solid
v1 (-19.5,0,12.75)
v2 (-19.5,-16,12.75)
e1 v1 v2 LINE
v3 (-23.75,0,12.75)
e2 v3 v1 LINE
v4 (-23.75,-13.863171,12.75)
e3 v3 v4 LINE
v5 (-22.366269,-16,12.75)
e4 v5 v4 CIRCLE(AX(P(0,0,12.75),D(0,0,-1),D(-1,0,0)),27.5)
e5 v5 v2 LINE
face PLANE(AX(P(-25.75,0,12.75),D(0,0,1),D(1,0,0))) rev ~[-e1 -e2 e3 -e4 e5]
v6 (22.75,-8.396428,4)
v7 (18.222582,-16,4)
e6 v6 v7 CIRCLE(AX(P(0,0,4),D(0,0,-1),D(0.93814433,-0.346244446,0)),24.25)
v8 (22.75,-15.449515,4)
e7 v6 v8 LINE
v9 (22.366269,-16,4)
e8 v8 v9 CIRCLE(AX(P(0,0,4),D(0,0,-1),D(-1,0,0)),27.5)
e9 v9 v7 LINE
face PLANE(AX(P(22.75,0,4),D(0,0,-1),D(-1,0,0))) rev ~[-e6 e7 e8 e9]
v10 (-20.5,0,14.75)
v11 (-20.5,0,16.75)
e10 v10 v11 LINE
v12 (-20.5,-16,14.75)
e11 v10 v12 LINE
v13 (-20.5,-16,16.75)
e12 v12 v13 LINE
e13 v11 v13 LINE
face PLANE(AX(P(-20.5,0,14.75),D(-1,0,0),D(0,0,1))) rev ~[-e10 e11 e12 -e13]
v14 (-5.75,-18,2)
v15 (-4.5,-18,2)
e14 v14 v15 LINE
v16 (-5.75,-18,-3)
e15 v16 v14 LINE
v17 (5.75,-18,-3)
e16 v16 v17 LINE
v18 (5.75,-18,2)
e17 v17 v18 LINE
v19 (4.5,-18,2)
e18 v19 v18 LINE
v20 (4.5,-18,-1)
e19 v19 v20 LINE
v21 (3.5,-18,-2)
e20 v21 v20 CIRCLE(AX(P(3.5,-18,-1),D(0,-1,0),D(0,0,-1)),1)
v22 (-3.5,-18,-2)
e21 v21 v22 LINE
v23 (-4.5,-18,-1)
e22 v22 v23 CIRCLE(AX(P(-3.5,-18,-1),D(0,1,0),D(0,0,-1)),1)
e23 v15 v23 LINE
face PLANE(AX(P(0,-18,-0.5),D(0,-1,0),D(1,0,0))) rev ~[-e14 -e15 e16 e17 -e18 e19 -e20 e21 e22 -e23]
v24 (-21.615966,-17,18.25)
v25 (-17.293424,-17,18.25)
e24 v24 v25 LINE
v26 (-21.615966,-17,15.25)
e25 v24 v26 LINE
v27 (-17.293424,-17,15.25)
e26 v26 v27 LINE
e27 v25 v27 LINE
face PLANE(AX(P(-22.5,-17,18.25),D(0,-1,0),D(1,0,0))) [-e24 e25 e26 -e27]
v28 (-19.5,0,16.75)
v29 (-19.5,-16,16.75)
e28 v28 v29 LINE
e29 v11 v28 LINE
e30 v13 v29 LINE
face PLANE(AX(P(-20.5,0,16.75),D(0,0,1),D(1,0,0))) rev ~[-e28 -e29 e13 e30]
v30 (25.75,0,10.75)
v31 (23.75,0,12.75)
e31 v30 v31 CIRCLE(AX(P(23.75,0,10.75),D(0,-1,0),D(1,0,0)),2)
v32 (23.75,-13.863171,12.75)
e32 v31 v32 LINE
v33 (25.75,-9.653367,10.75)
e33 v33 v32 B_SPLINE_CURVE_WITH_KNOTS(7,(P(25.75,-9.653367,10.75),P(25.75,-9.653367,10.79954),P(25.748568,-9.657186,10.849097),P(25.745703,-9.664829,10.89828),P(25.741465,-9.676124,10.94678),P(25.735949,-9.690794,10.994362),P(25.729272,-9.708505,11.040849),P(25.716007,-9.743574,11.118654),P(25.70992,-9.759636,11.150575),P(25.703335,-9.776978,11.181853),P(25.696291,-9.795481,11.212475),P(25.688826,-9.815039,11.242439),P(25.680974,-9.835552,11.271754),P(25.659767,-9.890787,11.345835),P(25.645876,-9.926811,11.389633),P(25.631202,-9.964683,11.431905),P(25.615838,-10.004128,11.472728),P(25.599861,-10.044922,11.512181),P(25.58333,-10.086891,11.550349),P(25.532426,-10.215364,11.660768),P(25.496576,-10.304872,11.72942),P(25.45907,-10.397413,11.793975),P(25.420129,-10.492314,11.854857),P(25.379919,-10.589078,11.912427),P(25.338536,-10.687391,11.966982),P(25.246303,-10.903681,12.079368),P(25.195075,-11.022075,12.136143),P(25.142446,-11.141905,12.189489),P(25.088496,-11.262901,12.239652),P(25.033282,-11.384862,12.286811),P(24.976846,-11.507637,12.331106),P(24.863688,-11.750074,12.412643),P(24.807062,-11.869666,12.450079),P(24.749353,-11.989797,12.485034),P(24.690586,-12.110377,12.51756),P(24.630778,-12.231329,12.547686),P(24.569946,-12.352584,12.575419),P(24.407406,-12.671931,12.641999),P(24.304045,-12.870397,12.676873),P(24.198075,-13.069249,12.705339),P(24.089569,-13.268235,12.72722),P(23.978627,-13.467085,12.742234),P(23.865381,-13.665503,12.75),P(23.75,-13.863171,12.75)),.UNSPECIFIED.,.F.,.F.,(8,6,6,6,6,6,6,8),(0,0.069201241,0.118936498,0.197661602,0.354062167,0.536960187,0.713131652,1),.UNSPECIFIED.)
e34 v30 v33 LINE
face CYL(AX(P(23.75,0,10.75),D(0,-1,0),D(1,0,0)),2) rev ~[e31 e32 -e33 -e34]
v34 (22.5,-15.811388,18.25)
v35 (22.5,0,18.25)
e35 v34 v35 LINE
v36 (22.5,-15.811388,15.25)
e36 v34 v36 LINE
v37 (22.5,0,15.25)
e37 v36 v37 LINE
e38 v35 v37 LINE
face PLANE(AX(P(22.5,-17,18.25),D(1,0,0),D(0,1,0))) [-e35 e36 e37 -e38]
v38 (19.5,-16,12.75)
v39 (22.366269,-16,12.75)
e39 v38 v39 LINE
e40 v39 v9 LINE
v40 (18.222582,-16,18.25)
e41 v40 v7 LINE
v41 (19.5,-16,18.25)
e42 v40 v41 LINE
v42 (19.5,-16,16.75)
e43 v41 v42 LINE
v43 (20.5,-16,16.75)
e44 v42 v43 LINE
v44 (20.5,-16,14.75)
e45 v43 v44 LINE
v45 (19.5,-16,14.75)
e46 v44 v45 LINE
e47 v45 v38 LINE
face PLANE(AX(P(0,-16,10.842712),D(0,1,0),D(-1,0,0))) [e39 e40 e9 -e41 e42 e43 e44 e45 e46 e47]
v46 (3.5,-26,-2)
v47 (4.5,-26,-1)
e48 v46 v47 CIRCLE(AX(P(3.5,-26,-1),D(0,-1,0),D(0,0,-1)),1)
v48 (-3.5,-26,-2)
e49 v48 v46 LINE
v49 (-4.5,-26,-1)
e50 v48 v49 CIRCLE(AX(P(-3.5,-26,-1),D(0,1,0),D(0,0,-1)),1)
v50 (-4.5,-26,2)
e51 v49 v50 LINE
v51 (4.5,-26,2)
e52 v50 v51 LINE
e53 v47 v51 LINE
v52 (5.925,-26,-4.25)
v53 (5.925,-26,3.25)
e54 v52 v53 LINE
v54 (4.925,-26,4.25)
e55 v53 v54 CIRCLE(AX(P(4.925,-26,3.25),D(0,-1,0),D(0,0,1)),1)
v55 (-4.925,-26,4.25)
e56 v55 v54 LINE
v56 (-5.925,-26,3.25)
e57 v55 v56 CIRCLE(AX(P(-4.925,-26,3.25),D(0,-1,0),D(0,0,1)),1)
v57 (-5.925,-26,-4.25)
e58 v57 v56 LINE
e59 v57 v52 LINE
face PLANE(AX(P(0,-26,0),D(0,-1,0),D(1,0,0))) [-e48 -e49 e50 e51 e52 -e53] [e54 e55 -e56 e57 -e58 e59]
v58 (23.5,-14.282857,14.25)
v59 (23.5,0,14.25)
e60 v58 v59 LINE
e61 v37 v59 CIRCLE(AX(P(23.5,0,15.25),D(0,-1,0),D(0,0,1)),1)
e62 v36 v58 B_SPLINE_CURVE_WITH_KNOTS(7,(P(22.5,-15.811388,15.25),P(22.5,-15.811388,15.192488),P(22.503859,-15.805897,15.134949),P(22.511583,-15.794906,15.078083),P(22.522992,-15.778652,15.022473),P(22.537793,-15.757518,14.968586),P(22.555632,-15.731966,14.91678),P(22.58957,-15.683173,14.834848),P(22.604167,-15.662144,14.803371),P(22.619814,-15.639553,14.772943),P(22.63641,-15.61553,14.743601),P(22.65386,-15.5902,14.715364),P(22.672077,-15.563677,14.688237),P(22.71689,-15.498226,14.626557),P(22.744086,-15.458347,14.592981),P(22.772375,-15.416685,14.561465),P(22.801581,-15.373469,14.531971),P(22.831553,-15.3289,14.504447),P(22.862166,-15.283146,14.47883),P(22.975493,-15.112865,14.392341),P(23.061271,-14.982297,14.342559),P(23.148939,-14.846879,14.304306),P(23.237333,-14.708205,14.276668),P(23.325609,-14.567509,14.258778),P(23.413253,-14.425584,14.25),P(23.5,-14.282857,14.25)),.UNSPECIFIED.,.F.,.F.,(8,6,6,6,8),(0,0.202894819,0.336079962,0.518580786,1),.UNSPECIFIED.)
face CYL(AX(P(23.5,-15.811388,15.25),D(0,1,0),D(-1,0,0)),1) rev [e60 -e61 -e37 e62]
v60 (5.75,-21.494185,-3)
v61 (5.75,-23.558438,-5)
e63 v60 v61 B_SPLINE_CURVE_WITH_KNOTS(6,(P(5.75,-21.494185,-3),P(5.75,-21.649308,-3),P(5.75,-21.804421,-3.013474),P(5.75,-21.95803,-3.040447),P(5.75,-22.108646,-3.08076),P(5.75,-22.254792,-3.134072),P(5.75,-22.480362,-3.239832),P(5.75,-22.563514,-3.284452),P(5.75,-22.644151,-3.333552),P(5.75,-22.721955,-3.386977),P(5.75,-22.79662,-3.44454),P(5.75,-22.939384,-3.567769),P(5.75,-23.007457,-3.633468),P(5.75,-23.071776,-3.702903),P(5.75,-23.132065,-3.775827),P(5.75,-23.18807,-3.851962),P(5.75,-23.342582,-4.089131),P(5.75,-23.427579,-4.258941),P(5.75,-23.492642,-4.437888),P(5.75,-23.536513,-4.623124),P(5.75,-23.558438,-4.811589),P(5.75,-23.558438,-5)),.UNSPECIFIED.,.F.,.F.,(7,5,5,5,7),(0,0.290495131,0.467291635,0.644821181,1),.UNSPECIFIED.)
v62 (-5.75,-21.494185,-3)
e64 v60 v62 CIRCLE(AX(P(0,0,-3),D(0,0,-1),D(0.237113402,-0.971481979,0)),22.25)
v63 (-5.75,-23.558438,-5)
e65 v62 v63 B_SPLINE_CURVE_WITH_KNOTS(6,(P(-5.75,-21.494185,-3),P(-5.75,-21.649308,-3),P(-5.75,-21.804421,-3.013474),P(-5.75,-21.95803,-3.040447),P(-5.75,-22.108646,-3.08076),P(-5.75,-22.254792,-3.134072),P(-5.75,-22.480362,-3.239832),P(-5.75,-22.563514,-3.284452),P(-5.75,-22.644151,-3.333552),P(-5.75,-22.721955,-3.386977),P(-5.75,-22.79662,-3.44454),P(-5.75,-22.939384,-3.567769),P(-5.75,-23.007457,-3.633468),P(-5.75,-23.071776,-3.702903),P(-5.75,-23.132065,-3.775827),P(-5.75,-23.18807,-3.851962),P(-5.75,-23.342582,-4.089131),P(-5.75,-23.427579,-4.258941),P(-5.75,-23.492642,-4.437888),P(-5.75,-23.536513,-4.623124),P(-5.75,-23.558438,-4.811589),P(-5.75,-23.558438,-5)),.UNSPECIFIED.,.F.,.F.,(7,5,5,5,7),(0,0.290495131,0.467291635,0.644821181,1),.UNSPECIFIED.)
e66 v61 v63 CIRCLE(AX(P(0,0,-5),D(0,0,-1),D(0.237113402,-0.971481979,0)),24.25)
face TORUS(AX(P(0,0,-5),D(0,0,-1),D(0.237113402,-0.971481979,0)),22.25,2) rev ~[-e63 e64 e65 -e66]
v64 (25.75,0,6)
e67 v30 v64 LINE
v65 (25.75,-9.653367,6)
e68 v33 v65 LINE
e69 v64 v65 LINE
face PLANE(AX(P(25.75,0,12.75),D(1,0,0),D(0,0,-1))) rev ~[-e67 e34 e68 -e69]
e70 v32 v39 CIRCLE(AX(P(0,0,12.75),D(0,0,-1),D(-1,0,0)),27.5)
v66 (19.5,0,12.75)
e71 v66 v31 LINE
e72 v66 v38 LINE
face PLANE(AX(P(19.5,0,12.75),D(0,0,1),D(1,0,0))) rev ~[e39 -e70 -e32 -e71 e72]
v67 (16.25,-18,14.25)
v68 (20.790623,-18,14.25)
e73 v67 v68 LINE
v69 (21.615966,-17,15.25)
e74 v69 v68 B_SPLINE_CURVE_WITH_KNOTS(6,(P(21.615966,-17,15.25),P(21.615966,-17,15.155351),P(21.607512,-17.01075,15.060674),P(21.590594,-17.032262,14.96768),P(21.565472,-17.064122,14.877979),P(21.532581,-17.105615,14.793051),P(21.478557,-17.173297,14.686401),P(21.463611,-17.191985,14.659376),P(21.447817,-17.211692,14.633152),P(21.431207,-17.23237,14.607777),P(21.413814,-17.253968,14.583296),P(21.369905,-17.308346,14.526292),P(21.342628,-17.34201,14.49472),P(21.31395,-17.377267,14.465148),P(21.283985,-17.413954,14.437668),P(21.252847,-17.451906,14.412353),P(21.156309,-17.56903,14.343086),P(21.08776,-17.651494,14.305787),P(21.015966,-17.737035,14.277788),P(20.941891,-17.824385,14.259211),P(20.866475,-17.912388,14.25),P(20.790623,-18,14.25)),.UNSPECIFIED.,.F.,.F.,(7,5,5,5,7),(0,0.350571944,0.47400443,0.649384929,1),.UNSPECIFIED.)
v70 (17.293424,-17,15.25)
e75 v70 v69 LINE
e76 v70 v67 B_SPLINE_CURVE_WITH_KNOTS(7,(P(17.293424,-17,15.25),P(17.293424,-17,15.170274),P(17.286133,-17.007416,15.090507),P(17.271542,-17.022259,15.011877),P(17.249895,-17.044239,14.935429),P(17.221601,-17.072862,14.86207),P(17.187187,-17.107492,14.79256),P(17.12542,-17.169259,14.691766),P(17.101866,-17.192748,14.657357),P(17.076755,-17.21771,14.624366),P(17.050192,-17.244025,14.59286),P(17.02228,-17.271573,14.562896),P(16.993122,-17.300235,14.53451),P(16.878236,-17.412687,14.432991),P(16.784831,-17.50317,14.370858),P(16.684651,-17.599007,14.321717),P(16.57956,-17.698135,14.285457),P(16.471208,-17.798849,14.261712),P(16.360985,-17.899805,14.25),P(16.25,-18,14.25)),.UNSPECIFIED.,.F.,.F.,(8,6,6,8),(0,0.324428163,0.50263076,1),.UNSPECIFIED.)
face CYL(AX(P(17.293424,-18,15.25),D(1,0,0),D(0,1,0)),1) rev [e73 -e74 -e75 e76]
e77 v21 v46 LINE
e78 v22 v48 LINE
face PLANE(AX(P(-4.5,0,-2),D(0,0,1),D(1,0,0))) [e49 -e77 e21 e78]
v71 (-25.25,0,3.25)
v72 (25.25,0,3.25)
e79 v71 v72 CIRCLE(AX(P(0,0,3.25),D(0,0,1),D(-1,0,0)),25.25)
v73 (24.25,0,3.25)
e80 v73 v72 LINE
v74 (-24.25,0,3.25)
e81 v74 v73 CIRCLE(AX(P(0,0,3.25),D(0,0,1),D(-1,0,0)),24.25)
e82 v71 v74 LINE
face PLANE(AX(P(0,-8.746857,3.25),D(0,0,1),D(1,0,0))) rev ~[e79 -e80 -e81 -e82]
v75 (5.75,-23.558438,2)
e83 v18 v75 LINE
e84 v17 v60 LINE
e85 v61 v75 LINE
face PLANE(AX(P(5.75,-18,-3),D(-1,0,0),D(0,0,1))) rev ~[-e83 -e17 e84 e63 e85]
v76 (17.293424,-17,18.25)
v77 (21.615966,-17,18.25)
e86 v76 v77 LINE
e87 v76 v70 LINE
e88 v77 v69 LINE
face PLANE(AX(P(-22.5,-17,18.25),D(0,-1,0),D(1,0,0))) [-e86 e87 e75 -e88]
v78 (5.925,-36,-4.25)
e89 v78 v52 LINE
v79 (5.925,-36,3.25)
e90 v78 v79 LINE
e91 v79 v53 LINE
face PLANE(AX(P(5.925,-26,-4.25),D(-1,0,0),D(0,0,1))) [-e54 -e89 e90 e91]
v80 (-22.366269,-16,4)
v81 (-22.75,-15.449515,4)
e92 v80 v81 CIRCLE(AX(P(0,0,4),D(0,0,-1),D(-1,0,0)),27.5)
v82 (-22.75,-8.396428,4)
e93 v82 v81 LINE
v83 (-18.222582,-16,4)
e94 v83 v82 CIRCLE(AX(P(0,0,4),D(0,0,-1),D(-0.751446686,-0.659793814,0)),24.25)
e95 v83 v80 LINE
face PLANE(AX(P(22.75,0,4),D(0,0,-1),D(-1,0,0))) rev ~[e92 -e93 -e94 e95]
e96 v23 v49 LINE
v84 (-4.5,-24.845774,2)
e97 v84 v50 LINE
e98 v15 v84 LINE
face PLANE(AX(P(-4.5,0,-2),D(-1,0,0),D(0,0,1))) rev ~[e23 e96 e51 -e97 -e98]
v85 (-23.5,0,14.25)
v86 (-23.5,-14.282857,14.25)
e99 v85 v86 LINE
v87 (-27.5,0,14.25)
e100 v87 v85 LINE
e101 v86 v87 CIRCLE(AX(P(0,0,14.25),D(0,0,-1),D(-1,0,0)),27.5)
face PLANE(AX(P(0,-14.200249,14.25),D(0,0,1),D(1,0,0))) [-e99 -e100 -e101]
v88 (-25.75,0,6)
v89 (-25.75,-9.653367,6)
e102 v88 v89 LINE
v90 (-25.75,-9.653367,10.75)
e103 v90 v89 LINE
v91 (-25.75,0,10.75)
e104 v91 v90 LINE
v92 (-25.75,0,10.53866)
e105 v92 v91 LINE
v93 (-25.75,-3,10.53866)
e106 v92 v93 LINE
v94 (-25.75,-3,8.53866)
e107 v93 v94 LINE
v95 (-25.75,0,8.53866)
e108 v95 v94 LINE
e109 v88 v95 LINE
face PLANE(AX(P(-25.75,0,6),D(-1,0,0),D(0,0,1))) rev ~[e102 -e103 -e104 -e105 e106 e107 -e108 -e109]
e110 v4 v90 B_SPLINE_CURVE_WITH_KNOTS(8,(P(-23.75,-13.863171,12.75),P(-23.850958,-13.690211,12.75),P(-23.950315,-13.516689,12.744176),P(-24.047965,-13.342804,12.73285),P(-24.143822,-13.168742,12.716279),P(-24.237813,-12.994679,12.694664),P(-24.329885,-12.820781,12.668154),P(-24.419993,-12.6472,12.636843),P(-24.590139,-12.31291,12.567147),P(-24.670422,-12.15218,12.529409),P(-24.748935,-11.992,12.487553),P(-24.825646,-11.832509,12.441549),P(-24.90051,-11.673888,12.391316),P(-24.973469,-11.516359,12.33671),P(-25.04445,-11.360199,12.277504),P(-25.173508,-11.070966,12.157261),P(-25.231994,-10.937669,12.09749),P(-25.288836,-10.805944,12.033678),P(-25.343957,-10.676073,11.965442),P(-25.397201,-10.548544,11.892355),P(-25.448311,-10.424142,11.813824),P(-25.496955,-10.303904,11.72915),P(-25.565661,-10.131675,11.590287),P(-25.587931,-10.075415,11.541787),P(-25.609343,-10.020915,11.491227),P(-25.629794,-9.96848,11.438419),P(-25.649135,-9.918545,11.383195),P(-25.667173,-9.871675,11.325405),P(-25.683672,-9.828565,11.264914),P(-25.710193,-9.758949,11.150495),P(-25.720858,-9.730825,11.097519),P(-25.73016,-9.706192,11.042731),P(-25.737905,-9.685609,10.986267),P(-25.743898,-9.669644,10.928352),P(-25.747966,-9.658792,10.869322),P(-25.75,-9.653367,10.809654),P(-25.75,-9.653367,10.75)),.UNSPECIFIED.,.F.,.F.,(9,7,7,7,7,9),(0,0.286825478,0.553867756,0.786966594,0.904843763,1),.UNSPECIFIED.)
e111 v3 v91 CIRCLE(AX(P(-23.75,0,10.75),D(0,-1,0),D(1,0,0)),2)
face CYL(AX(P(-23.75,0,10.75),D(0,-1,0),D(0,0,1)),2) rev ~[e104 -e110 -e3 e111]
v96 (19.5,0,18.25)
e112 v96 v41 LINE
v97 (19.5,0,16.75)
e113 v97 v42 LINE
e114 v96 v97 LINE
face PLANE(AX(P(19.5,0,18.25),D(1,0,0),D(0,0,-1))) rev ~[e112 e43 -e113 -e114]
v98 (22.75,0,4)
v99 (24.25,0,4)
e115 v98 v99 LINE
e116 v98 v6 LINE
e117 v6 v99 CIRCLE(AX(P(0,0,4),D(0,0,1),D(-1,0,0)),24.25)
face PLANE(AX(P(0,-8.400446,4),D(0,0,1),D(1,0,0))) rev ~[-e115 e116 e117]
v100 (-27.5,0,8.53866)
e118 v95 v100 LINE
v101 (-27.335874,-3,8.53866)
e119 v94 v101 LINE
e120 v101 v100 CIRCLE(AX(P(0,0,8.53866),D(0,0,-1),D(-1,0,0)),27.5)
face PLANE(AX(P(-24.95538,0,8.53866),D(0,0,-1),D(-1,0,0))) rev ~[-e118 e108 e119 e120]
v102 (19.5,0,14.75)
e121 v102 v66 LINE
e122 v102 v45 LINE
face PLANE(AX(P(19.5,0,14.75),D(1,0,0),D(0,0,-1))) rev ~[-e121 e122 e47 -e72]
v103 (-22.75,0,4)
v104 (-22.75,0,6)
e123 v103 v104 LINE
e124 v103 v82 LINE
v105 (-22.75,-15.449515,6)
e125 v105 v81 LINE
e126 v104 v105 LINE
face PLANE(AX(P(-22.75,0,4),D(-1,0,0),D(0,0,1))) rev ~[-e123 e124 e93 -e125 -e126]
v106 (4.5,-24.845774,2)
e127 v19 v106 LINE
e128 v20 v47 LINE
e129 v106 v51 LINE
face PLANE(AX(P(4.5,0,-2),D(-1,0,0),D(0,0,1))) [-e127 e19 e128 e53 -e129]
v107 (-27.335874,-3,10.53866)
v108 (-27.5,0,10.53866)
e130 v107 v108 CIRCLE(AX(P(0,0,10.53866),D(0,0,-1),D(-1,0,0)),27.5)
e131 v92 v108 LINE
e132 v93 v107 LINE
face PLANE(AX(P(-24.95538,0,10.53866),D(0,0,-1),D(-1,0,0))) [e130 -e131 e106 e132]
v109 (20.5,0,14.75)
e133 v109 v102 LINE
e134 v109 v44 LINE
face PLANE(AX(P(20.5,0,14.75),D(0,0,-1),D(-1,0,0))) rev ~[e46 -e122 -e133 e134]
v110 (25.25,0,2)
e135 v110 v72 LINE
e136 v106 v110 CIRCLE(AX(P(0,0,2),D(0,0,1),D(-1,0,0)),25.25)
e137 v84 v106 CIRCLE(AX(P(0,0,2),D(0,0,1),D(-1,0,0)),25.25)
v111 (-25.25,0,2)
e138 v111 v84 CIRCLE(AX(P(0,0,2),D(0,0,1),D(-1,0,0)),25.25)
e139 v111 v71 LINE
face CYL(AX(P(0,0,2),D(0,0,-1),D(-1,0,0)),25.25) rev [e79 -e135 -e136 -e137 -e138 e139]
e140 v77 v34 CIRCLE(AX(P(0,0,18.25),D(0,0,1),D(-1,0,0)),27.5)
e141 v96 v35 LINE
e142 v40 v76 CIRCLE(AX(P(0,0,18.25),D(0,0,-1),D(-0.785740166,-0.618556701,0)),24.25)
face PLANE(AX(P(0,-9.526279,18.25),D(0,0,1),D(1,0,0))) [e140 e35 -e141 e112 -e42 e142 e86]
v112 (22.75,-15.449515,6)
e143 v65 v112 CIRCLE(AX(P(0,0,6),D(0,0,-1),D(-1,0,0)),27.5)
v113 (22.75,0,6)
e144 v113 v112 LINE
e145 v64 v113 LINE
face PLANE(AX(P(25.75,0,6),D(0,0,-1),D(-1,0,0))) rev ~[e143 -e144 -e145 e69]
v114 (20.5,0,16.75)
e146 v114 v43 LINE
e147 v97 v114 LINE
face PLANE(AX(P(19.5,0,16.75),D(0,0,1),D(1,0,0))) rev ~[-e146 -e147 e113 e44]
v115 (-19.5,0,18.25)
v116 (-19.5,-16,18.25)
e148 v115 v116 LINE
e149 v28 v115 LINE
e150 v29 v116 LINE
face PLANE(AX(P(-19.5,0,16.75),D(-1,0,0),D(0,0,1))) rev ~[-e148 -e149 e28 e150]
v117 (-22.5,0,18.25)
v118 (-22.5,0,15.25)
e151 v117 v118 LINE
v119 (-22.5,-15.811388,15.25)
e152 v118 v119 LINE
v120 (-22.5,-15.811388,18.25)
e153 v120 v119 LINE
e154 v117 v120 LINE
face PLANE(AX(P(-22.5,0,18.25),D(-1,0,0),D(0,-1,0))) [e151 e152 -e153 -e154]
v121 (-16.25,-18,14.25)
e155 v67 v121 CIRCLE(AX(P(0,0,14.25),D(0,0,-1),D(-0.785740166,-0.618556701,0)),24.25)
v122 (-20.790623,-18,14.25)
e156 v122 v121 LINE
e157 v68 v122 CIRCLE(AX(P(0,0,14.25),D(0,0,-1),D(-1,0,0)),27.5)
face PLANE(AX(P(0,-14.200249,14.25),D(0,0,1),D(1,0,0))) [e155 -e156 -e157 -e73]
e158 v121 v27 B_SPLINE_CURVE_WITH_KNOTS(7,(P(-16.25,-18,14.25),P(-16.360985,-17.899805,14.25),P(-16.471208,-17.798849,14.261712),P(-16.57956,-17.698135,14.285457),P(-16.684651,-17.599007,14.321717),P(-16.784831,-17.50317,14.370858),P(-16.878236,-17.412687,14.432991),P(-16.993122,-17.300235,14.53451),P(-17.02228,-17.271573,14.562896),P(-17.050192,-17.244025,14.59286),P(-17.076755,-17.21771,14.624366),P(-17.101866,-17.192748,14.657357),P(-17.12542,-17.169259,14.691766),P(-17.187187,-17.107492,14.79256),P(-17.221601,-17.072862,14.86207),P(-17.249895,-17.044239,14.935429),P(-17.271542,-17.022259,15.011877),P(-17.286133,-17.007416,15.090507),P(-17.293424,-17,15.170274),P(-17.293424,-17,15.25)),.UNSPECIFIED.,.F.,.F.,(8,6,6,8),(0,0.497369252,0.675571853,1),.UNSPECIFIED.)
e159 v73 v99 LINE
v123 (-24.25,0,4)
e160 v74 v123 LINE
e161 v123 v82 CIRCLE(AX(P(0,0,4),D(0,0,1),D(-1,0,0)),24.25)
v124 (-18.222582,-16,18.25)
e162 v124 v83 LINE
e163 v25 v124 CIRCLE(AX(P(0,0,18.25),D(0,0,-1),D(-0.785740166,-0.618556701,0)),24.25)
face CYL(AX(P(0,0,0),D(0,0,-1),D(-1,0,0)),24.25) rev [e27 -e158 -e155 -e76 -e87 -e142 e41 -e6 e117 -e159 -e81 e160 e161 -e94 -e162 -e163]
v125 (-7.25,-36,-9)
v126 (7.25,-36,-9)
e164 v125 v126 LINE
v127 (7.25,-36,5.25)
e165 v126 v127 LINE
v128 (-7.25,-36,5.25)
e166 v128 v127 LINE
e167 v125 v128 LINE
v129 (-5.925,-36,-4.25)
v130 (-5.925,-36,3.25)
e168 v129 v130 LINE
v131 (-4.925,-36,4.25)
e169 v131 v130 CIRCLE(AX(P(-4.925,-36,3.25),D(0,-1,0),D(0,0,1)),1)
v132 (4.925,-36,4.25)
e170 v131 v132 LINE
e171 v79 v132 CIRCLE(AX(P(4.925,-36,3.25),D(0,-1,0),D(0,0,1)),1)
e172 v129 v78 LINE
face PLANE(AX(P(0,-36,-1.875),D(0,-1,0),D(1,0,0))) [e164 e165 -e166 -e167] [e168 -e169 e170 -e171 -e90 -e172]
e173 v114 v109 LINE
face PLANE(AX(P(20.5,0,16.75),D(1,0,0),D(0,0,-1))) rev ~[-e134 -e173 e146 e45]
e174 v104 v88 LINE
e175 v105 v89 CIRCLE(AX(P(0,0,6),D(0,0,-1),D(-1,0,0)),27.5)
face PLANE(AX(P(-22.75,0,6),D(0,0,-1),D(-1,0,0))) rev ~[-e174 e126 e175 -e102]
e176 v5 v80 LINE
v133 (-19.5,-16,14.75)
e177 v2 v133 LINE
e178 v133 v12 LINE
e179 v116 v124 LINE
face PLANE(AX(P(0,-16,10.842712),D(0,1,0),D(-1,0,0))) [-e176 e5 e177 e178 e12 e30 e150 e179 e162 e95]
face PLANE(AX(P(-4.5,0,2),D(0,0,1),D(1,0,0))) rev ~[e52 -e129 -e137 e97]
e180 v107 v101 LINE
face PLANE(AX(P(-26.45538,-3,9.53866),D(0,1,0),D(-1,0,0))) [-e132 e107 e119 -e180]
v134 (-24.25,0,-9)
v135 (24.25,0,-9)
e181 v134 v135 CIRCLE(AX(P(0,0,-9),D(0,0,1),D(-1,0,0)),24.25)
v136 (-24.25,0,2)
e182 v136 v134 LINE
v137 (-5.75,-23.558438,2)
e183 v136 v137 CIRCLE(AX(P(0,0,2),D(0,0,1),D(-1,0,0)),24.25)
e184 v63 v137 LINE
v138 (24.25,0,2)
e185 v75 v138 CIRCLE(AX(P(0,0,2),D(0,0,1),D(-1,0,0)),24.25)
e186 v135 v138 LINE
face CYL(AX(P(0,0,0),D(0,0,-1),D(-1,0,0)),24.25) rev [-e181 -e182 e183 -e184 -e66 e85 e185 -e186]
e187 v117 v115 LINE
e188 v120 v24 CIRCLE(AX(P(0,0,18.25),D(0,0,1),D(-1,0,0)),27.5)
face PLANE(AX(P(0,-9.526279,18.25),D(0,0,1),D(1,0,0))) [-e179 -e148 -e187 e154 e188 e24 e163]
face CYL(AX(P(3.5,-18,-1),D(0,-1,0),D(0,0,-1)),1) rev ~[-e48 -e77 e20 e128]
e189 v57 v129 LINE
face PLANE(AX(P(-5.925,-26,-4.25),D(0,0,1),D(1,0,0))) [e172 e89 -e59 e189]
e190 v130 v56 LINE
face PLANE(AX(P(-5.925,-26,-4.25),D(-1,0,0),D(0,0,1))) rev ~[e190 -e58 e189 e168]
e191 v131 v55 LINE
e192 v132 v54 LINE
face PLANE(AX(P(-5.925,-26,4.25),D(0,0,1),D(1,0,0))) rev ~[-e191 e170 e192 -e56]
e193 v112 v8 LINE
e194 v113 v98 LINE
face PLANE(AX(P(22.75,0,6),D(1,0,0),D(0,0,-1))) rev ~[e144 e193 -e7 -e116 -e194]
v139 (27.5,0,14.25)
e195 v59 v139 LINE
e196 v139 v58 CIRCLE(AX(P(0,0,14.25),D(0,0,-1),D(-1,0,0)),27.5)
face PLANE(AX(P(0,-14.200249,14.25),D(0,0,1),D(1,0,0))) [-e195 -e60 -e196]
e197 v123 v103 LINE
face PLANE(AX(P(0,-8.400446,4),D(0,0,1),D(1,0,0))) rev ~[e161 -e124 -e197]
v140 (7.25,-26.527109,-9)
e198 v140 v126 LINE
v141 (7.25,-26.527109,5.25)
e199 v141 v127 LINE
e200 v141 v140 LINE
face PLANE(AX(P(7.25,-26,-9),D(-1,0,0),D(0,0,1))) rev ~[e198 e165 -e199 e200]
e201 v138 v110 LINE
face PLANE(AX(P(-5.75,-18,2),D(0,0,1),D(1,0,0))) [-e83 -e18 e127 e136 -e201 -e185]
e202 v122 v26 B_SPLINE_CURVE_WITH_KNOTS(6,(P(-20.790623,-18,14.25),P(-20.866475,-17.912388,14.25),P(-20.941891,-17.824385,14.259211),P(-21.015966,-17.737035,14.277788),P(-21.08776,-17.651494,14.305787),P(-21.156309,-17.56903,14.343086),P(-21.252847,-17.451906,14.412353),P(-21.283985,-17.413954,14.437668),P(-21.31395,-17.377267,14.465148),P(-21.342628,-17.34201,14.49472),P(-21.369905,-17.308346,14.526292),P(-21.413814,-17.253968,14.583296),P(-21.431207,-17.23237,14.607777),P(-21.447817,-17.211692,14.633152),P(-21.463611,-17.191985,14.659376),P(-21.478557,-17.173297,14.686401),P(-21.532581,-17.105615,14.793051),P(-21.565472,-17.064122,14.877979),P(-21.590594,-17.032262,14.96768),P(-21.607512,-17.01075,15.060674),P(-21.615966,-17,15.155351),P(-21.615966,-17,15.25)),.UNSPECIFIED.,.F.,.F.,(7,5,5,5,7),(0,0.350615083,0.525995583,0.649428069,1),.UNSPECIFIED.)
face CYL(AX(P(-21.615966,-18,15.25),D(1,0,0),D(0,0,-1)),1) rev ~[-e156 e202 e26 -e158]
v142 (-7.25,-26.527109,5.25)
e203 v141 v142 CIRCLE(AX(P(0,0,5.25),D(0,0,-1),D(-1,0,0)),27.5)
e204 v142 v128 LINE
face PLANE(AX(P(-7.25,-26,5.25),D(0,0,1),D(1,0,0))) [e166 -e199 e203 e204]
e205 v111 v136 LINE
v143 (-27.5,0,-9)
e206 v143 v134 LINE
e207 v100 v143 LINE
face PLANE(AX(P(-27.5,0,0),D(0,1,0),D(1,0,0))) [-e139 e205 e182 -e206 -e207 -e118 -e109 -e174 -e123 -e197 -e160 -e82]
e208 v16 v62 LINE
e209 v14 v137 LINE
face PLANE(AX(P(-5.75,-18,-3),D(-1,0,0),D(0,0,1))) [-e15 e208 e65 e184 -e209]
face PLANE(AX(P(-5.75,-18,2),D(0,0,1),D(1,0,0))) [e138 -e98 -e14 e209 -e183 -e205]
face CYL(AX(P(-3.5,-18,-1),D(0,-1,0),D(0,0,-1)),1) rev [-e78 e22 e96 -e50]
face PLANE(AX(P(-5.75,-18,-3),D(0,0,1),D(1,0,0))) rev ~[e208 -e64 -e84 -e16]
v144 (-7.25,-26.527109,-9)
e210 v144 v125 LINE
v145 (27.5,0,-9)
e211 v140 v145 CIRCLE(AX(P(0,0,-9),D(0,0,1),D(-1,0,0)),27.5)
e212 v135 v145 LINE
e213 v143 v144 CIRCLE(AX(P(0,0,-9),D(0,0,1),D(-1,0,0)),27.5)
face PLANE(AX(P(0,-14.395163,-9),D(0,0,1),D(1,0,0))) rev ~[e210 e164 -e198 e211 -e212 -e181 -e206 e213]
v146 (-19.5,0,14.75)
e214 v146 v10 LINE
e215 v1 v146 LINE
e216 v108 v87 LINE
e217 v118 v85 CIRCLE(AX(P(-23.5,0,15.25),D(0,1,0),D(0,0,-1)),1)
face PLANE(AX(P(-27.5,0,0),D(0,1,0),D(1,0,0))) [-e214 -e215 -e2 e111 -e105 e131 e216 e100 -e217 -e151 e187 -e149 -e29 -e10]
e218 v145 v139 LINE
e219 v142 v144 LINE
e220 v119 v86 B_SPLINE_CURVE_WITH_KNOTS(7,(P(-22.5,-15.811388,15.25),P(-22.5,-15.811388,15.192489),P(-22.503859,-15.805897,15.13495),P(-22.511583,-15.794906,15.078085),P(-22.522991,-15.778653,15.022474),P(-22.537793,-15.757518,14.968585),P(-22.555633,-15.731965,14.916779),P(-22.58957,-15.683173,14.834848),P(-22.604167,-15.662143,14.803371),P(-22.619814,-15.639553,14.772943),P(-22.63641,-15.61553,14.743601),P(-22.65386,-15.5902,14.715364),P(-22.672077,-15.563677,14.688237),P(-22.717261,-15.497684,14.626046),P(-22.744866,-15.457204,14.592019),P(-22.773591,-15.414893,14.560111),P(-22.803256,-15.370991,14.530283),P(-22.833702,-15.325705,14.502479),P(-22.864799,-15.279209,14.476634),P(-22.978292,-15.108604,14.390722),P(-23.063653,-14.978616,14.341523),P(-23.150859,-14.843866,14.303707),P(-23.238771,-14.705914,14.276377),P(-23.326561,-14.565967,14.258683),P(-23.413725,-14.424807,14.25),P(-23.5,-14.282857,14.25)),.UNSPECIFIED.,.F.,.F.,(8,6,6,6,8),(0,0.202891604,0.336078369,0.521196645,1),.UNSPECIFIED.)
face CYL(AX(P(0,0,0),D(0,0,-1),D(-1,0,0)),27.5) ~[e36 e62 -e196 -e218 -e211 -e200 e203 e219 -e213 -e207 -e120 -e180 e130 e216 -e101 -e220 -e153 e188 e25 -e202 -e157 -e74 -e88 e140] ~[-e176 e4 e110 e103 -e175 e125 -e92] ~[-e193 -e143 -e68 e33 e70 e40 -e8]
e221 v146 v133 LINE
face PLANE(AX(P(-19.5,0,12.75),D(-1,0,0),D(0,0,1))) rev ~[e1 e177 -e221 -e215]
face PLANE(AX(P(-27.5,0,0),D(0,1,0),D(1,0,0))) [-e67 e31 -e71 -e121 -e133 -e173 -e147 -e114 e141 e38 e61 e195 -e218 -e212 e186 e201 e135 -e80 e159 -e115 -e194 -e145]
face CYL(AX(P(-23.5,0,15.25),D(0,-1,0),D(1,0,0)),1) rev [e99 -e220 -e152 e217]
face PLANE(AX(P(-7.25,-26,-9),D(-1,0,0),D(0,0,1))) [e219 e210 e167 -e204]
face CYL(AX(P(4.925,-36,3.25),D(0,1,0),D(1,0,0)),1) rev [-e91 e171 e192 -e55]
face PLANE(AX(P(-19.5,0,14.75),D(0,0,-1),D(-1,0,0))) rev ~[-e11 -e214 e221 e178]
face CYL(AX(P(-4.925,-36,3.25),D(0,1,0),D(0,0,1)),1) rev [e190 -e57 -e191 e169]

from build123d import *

# Parameters (mm, degrees)
SKETCH013_AS_DRAWN_W                      = 11.85
SKETCH013_AS_DRAWN_H                      = 8.5
EXTRUDE018_DEPTH                          = 2
EXTRUDE018_ONTO_SKETCH013_ROLL_ANGLE      = 90
SKETCH009_AS_DRAWN_W                      = 11.85
SKETCH009_AS_DRAWN_H                      = 8.5
EXTRUDE017_DEPTH                          = 10
EXTRUDE017_ONTO_SKETCH009_ROLL_ANGLE      = 90
SKETCH012_AS_DRAWN_W                      = 14.5
SKETCH012_AS_DRAWN_H                      = 14.25
EXTRUDE016_DEPTH                          = 10
EXTRUDE016_ONTO_SKETCH012_ROLL_ANGLE      = 90
SKETCH010_AS_DRAWN_W                      = 9
SKETCH010_AS_DRAWN_H                      = 4
EXTRUDE015_DEPTH                          = 30
EXTRUDE015_ONTO_SKETCH010_ROLL_ANGLE      = 90
SKETCH011_AS_DRAWN_W                      = 11.5
SKETCH011_AS_DRAWN_H                      = 5
EXTRUDE014_DEPTH                          = 8
EXTRUDE014_ONTO_SKETCH011_ROLL_ANGLE      = 90
EXTRUDE013_DEPTH                          = 20
SKETCH006_AS_DRAWN_W                      = 3
SKETCH006_AS_DRAWN_H                      = 2
EXTRUDE011_DEPTH                          = 3
EXTRUDE011_ONTO_SKETCH006_ROLL_ANGLE      = 90
EXTRUDE011_ONTO_SKETCH006_PLACEMENT_ANGLE = 180
EXTRUDE010_DEPTH                          = 4
EXTRUDE008_DEPTH                          = 16
EXTRUDE008_ONTO_SKETCH004_ROLL_ANGLE      = 90
EXTRUDE008_ONTO_SKETCH004_PLACEMENT_ANGLE = 180
EXTRUDE002_DEPTH                          = 1.25
EXTRUDE_DEPTH                             = 4
EXTRUDE004_DEPTH                          = 18.25
EXTRUDE012_DEPTH                          = 9
FILLET_R                                  = 1
FILLET001_R                               = 1
FILLET002_R                               = 2
FILLET003_R                               = 2
FILLET004_R                               = 1
FILLET005_R                               = 2
FILLET006_R                               = 1


with BuildPart() as extrude018:
    # Sketch013 as drawn → Extrude018 (new)
    with BuildSketch(Plane.XY):
        Rectangle(SKETCH013_AS_DRAWN_W, SKETCH013_AS_DRAWN_H)
    extrude(amount=-EXTRUDE018_DEPTH)


with BuildPart() as extrude018_1:
    # Extrude018 onto Sketch013 roll: moved
    add(extrude018.part.rotate(Axis((0, 0, 0), (1, 0, 0)), EXTRUDE018_ONTO_SKETCH013_ROLL_ANGLE))


with BuildPart() as extrude018_2:
    # Extrude018 onto Sketch013 placement: moved
    add(extrude018_1.part.moved(Location((0, -28, 0))))


with BuildPart() as extrude017:
    # Sketch009 as drawn → Extrude017 (new)
    with BuildSketch(Plane.XY):
        Rectangle(SKETCH009_AS_DRAWN_W, SKETCH009_AS_DRAWN_H)
    extrude(amount=EXTRUDE017_DEPTH)


with BuildPart() as extrude017_1:
    # Extrude017 onto Sketch009 roll: moved
    add(extrude017.part.rotate(Axis((0, 0, 0), (1, 0, 0)), EXTRUDE017_ONTO_SKETCH009_ROLL_ANGLE))


with BuildPart() as extrude017_2:
    # Extrude017 onto Sketch009 placement: moved
    add(extrude017_1.part.moved(Location((0, -26, 0))))


with BuildPart() as cut006:
    # Sketch012 as drawn → Extrude016 (new)
    with BuildSketch(Plane.XY):
        with Locations((0, -1.875)):
            Rectangle(SKETCH012_AS_DRAWN_W, SKETCH012_AS_DRAWN_H)
    extrude(amount=EXTRUDE016_DEPTH)


with BuildPart() as cut006_1:
    # Extrude016 onto Sketch012 roll: moved
    add(cut006.part.rotate(Axis((0, 0, 0), (1, 0, 0)), EXTRUDE016_ONTO_SKETCH012_ROLL_ANGLE))


with BuildPart() as cut006_2:
    # Extrude016 onto Sketch012 placement: moved
    add(cut006_1.part.moved(Location((0, -26, 0))))

    # Cut006: cut Extrude017
    add(extrude017_2.part, mode=Mode.SUBTRACT)


with BuildPart() as extrude015:
    # Sketch010 as drawn → Extrude015 (new)
    with BuildSketch(Plane.XY):
        Rectangle(SKETCH010_AS_DRAWN_W, SKETCH010_AS_DRAWN_H)
    extrude(amount=EXTRUDE015_DEPTH)


with BuildPart() as extrude015_1:
    # Extrude015 onto Sketch010 roll: moved
    add(extrude015.part.rotate(Axis((0, 0, 0), (1, 0, 0)), EXTRUDE015_ONTO_SKETCH010_ROLL_ANGLE))


with BuildPart() as extrude015_2:
    # Extrude015 onto Sketch010 placement: moved
    add(extrude015_1.part)


with BuildPart() as extrude014:
    # Sketch011 as drawn → Extrude014 (new)
    with BuildSketch(Plane.XY):
        with Locations((0, -0.5)):
            Rectangle(SKETCH011_AS_DRAWN_W, SKETCH011_AS_DRAWN_H)
    extrude(amount=EXTRUDE014_DEPTH)


with BuildPart() as extrude014_1:
    # Extrude014 onto Sketch011 roll: moved
    add(extrude014.part.rotate(Axis((0, 0, 0), (1, 0, 0)), EXTRUDE014_ONTO_SKETCH011_ROLL_ANGLE))


with BuildPart() as extrude014_2:
    # Extrude014 onto Sketch011 placement: moved
    add(extrude014_1.part.moved(Location((0, -18, 0))))


with BuildPart() as extrude013:
    # Sketch008 → Extrude013 (new body)
    with BuildSketch(Plane.XY):
        with BuildLine():
            ThreePointArc((-19.054199, -15), (0, -24.25), (19.054199, -15))
            Line((-19.054199, -15), (19.054199, -15))
        make_face()
    extrude(amount=EXTRUDE013_DEPTH)


with BuildPart() as extrude011:
    # Sketch006 as drawn → Extrude011 (new)
    with BuildSketch(Plane.XY):
        with Locations((26.45538, 9.53866)):
            Rectangle(SKETCH006_AS_DRAWN_W, SKETCH006_AS_DRAWN_H)
    extrude(amount=-EXTRUDE011_DEPTH)


with BuildPart() as extrude011_1:
    # Extrude011 onto Sketch006 roll: moved
    add(extrude011.part.rotate(Axis((0, 0, 0), (1, 0, 0)), EXTRUDE011_ONTO_SKETCH006_ROLL_ANGLE))


with BuildPart() as extrude011_2:
    # Extrude011 onto Sketch006 placement: moved
    add(extrude011_1.part.rotate(Axis((0, 0, 0), (0, 0, 1)), EXTRUDE011_ONTO_SKETCH006_PLACEMENT_ANGLE))


with BuildPart() as extrude010:
    # Sketch005 → Extrude010 (new body)
    with BuildSketch(Plane.XY.offset(18.25)):
        with BuildLine():
            ThreePointArc((-30, 0), (0, -30), (30, 0))
            Line((22.5, 0), (30, 0))
            Line((22.5, -17), (22.5, 0))
            Line((-22.5, -17), (22.5, -17))
            Line((-22.5, 0), (-22.5, -17))
            Line((-30, 0), (-22.5, 0))
        make_face()
    extrude(amount=-EXTRUDE010_DEPTH)


with BuildPart() as extrude008:
    # Sketch004 as drawn → Extrude008 (new)
    with BuildSketch(Plane.XY):
        Polygon((-22.75, 4), (22.75, 4), (22.75, 6), (25.75, 6), (25.75, 12.75), (19.5, 12.75), (19.5, 14.75), (20.5, 14.75), (20.5, 16.75), (19.5, 16.75), (19.5, 18.25), (-19.5, 18.25), (-19.5, 16.75), (-20.5, 16.75), (-20.5, 14.75), (-19.5, 14.75), (-19.5, 12.75), (-25.75, 12.75), (-25.75, 6), (-22.75, 6), align=None)
    extrude(amount=-EXTRUDE008_DEPTH)


with BuildPart() as extrude008_1:
    # Extrude008 onto Sketch004 roll: moved
    add(extrude008.part.rotate(Axis((0, 0, 0), (1, 0, 0)), EXTRUDE008_ONTO_SKETCH004_ROLL_ANGLE))


with BuildPart() as extrude008_2:
    # Extrude008 onto Sketch004 placement: moved
    add(extrude008_1.part.rotate(Axis((0, 0, 0), (0, 0, 1)), EXTRUDE008_ONTO_SKETCH004_PLACEMENT_ANGLE))


with BuildPart() as extrude002:
    # Sketch003 → Extrude002 (new body)
    with BuildSketch(Plane.XY.offset(2)):
        with BuildLine():
            ThreePointArc((-25.25, 0), (0, -25.25), (25.25, 0))
            Line((-25.25, 0), (25.25, 0))
        make_face()
    extrude(amount=EXTRUDE002_DEPTH)


with BuildPart() as lilypadcut:
    # Sketch002 → Extrude (new body)
    with BuildSketch(Plane.XY):
        with BuildLine():
            ThreePointArc((-24.25, 0), (0, -24.25), (24.25, 0))
            Line((-24.25, 0), (24.25, 0))
        make_face()
    extrude(amount=EXTRUDE_DEPTH)

    # Fusion: union Extrude002
    add(extrude002.part)


with BuildPart() as cut003:
    # Sketch001 → Extrude004 (new body)
    with BuildSketch(Plane.XY):
        with BuildLine():
            ThreePointArc((-27.5, 0), (0, -27.5), (27.5, 0))
            Line((-27.5, 0), (27.5, 0))
        make_face()
    extrude(amount=EXTRUDE004_DEPTH)

    # Cut: cut LilyPadCut
    add(lilypadcut.part, mode=Mode.SUBTRACT)

    # Cut001: cut Extrude008
    add(extrude008_2.part, mode=Mode.SUBTRACT)

    # Cut002: cut Extrude010
    add(extrude010.part, mode=Mode.SUBTRACT)

    # Cut003: cut Extrude011
    add(extrude011_2.part, mode=Mode.SUBTRACT)


with BuildPart() as fillet006:
    # Sketch007 → Extrude012 (new body)
    with BuildSketch(Plane.XY):
        with BuildLine():
            ThreePointArc((-27.5, 0), (0, -27.5), (27.5, 0))
            Line((24.25, 0), (27.5, 0))
            ThreePointArc((-24.25, 0), (0, -24.25), (24.25, 0))
            Line((-27.5, 0), (-24.25, 0))
        make_face()
    extrude(amount=-EXTRUDE012_DEPTH)

    # Fusion001: union Cut003
    add(cut003.part)

    # Cut004: cut Extrude013
    add(extrude013.part, mode=Mode.SUBTRACT)

    # Fillet
    fillet_edges = [fillet006.edges().sort_by_distance(p)[0] for p in [
        (-19.454695, -17, 14.25),
        (19.454695, -17, 14.25),
    ]]
    fillet(fillet_edges, radius=FILLET_R)

    # Fillet001
    fillet001_edges = [fillet006.edges().sort_by_distance(p)[0] for p in [
        (-22.5, -7.905694, 14.25),
        (22.5, -7.905694, 14.25),
    ]]
    fillet(fillet001_edges, radius=FILLET001_R)

    # Fillet002
    fillet002_edges = [fillet006.edges().sort_by_distance(p)[0] for p in [
        (25.75, -4.826684, 12.75),
    ]]
    fillet(fillet002_edges, radius=FILLET002_R)

    # Fillet003
    fillet003_edges = [fillet006.edges().sort_by_distance(p)[0] for p in [
        (-25.75, -4.826684, 12.75),
    ]]
    fillet(fillet003_edges, radius=FILLET003_R)

    # Fusion002: union Extrude014
    add(extrude014_2.part)

    # Cut005: cut Extrude015
    add(extrude015_2.part, mode=Mode.SUBTRACT)

    # Fusion003: union Cut006
    add(cut006_2.part)

    # Cut007: cut Extrude018
    add(extrude018_2.part, mode=Mode.SUBTRACT)

    # Fillet004
    fillet004_edges = [fillet006.edges().sort_by_distance(p)[0] for p in [
        (4.5, -22, -2),
        (-4.5, -22, -2),
    ]]
    fillet(fillet004_edges, radius=FILLET004_R)

    # Fillet005
    fillet005_edges = [fillet006.edges().sort_by_distance(p)[0] for p in [
        (0, -24.25, -3),
    ]]
    fillet(fillet005_edges, radius=FILLET005_R)

    # Fillet006
    fillet006_edges = [fillet006.edges().sort_by_distance(p)[0] for p in [
        (5.925, -32, 4.25),
        (-5.925, -32, 4.25),
    ]]
    fillet(fillet006_edges, radius=FILLET006_R)


solid = fillet006.part
